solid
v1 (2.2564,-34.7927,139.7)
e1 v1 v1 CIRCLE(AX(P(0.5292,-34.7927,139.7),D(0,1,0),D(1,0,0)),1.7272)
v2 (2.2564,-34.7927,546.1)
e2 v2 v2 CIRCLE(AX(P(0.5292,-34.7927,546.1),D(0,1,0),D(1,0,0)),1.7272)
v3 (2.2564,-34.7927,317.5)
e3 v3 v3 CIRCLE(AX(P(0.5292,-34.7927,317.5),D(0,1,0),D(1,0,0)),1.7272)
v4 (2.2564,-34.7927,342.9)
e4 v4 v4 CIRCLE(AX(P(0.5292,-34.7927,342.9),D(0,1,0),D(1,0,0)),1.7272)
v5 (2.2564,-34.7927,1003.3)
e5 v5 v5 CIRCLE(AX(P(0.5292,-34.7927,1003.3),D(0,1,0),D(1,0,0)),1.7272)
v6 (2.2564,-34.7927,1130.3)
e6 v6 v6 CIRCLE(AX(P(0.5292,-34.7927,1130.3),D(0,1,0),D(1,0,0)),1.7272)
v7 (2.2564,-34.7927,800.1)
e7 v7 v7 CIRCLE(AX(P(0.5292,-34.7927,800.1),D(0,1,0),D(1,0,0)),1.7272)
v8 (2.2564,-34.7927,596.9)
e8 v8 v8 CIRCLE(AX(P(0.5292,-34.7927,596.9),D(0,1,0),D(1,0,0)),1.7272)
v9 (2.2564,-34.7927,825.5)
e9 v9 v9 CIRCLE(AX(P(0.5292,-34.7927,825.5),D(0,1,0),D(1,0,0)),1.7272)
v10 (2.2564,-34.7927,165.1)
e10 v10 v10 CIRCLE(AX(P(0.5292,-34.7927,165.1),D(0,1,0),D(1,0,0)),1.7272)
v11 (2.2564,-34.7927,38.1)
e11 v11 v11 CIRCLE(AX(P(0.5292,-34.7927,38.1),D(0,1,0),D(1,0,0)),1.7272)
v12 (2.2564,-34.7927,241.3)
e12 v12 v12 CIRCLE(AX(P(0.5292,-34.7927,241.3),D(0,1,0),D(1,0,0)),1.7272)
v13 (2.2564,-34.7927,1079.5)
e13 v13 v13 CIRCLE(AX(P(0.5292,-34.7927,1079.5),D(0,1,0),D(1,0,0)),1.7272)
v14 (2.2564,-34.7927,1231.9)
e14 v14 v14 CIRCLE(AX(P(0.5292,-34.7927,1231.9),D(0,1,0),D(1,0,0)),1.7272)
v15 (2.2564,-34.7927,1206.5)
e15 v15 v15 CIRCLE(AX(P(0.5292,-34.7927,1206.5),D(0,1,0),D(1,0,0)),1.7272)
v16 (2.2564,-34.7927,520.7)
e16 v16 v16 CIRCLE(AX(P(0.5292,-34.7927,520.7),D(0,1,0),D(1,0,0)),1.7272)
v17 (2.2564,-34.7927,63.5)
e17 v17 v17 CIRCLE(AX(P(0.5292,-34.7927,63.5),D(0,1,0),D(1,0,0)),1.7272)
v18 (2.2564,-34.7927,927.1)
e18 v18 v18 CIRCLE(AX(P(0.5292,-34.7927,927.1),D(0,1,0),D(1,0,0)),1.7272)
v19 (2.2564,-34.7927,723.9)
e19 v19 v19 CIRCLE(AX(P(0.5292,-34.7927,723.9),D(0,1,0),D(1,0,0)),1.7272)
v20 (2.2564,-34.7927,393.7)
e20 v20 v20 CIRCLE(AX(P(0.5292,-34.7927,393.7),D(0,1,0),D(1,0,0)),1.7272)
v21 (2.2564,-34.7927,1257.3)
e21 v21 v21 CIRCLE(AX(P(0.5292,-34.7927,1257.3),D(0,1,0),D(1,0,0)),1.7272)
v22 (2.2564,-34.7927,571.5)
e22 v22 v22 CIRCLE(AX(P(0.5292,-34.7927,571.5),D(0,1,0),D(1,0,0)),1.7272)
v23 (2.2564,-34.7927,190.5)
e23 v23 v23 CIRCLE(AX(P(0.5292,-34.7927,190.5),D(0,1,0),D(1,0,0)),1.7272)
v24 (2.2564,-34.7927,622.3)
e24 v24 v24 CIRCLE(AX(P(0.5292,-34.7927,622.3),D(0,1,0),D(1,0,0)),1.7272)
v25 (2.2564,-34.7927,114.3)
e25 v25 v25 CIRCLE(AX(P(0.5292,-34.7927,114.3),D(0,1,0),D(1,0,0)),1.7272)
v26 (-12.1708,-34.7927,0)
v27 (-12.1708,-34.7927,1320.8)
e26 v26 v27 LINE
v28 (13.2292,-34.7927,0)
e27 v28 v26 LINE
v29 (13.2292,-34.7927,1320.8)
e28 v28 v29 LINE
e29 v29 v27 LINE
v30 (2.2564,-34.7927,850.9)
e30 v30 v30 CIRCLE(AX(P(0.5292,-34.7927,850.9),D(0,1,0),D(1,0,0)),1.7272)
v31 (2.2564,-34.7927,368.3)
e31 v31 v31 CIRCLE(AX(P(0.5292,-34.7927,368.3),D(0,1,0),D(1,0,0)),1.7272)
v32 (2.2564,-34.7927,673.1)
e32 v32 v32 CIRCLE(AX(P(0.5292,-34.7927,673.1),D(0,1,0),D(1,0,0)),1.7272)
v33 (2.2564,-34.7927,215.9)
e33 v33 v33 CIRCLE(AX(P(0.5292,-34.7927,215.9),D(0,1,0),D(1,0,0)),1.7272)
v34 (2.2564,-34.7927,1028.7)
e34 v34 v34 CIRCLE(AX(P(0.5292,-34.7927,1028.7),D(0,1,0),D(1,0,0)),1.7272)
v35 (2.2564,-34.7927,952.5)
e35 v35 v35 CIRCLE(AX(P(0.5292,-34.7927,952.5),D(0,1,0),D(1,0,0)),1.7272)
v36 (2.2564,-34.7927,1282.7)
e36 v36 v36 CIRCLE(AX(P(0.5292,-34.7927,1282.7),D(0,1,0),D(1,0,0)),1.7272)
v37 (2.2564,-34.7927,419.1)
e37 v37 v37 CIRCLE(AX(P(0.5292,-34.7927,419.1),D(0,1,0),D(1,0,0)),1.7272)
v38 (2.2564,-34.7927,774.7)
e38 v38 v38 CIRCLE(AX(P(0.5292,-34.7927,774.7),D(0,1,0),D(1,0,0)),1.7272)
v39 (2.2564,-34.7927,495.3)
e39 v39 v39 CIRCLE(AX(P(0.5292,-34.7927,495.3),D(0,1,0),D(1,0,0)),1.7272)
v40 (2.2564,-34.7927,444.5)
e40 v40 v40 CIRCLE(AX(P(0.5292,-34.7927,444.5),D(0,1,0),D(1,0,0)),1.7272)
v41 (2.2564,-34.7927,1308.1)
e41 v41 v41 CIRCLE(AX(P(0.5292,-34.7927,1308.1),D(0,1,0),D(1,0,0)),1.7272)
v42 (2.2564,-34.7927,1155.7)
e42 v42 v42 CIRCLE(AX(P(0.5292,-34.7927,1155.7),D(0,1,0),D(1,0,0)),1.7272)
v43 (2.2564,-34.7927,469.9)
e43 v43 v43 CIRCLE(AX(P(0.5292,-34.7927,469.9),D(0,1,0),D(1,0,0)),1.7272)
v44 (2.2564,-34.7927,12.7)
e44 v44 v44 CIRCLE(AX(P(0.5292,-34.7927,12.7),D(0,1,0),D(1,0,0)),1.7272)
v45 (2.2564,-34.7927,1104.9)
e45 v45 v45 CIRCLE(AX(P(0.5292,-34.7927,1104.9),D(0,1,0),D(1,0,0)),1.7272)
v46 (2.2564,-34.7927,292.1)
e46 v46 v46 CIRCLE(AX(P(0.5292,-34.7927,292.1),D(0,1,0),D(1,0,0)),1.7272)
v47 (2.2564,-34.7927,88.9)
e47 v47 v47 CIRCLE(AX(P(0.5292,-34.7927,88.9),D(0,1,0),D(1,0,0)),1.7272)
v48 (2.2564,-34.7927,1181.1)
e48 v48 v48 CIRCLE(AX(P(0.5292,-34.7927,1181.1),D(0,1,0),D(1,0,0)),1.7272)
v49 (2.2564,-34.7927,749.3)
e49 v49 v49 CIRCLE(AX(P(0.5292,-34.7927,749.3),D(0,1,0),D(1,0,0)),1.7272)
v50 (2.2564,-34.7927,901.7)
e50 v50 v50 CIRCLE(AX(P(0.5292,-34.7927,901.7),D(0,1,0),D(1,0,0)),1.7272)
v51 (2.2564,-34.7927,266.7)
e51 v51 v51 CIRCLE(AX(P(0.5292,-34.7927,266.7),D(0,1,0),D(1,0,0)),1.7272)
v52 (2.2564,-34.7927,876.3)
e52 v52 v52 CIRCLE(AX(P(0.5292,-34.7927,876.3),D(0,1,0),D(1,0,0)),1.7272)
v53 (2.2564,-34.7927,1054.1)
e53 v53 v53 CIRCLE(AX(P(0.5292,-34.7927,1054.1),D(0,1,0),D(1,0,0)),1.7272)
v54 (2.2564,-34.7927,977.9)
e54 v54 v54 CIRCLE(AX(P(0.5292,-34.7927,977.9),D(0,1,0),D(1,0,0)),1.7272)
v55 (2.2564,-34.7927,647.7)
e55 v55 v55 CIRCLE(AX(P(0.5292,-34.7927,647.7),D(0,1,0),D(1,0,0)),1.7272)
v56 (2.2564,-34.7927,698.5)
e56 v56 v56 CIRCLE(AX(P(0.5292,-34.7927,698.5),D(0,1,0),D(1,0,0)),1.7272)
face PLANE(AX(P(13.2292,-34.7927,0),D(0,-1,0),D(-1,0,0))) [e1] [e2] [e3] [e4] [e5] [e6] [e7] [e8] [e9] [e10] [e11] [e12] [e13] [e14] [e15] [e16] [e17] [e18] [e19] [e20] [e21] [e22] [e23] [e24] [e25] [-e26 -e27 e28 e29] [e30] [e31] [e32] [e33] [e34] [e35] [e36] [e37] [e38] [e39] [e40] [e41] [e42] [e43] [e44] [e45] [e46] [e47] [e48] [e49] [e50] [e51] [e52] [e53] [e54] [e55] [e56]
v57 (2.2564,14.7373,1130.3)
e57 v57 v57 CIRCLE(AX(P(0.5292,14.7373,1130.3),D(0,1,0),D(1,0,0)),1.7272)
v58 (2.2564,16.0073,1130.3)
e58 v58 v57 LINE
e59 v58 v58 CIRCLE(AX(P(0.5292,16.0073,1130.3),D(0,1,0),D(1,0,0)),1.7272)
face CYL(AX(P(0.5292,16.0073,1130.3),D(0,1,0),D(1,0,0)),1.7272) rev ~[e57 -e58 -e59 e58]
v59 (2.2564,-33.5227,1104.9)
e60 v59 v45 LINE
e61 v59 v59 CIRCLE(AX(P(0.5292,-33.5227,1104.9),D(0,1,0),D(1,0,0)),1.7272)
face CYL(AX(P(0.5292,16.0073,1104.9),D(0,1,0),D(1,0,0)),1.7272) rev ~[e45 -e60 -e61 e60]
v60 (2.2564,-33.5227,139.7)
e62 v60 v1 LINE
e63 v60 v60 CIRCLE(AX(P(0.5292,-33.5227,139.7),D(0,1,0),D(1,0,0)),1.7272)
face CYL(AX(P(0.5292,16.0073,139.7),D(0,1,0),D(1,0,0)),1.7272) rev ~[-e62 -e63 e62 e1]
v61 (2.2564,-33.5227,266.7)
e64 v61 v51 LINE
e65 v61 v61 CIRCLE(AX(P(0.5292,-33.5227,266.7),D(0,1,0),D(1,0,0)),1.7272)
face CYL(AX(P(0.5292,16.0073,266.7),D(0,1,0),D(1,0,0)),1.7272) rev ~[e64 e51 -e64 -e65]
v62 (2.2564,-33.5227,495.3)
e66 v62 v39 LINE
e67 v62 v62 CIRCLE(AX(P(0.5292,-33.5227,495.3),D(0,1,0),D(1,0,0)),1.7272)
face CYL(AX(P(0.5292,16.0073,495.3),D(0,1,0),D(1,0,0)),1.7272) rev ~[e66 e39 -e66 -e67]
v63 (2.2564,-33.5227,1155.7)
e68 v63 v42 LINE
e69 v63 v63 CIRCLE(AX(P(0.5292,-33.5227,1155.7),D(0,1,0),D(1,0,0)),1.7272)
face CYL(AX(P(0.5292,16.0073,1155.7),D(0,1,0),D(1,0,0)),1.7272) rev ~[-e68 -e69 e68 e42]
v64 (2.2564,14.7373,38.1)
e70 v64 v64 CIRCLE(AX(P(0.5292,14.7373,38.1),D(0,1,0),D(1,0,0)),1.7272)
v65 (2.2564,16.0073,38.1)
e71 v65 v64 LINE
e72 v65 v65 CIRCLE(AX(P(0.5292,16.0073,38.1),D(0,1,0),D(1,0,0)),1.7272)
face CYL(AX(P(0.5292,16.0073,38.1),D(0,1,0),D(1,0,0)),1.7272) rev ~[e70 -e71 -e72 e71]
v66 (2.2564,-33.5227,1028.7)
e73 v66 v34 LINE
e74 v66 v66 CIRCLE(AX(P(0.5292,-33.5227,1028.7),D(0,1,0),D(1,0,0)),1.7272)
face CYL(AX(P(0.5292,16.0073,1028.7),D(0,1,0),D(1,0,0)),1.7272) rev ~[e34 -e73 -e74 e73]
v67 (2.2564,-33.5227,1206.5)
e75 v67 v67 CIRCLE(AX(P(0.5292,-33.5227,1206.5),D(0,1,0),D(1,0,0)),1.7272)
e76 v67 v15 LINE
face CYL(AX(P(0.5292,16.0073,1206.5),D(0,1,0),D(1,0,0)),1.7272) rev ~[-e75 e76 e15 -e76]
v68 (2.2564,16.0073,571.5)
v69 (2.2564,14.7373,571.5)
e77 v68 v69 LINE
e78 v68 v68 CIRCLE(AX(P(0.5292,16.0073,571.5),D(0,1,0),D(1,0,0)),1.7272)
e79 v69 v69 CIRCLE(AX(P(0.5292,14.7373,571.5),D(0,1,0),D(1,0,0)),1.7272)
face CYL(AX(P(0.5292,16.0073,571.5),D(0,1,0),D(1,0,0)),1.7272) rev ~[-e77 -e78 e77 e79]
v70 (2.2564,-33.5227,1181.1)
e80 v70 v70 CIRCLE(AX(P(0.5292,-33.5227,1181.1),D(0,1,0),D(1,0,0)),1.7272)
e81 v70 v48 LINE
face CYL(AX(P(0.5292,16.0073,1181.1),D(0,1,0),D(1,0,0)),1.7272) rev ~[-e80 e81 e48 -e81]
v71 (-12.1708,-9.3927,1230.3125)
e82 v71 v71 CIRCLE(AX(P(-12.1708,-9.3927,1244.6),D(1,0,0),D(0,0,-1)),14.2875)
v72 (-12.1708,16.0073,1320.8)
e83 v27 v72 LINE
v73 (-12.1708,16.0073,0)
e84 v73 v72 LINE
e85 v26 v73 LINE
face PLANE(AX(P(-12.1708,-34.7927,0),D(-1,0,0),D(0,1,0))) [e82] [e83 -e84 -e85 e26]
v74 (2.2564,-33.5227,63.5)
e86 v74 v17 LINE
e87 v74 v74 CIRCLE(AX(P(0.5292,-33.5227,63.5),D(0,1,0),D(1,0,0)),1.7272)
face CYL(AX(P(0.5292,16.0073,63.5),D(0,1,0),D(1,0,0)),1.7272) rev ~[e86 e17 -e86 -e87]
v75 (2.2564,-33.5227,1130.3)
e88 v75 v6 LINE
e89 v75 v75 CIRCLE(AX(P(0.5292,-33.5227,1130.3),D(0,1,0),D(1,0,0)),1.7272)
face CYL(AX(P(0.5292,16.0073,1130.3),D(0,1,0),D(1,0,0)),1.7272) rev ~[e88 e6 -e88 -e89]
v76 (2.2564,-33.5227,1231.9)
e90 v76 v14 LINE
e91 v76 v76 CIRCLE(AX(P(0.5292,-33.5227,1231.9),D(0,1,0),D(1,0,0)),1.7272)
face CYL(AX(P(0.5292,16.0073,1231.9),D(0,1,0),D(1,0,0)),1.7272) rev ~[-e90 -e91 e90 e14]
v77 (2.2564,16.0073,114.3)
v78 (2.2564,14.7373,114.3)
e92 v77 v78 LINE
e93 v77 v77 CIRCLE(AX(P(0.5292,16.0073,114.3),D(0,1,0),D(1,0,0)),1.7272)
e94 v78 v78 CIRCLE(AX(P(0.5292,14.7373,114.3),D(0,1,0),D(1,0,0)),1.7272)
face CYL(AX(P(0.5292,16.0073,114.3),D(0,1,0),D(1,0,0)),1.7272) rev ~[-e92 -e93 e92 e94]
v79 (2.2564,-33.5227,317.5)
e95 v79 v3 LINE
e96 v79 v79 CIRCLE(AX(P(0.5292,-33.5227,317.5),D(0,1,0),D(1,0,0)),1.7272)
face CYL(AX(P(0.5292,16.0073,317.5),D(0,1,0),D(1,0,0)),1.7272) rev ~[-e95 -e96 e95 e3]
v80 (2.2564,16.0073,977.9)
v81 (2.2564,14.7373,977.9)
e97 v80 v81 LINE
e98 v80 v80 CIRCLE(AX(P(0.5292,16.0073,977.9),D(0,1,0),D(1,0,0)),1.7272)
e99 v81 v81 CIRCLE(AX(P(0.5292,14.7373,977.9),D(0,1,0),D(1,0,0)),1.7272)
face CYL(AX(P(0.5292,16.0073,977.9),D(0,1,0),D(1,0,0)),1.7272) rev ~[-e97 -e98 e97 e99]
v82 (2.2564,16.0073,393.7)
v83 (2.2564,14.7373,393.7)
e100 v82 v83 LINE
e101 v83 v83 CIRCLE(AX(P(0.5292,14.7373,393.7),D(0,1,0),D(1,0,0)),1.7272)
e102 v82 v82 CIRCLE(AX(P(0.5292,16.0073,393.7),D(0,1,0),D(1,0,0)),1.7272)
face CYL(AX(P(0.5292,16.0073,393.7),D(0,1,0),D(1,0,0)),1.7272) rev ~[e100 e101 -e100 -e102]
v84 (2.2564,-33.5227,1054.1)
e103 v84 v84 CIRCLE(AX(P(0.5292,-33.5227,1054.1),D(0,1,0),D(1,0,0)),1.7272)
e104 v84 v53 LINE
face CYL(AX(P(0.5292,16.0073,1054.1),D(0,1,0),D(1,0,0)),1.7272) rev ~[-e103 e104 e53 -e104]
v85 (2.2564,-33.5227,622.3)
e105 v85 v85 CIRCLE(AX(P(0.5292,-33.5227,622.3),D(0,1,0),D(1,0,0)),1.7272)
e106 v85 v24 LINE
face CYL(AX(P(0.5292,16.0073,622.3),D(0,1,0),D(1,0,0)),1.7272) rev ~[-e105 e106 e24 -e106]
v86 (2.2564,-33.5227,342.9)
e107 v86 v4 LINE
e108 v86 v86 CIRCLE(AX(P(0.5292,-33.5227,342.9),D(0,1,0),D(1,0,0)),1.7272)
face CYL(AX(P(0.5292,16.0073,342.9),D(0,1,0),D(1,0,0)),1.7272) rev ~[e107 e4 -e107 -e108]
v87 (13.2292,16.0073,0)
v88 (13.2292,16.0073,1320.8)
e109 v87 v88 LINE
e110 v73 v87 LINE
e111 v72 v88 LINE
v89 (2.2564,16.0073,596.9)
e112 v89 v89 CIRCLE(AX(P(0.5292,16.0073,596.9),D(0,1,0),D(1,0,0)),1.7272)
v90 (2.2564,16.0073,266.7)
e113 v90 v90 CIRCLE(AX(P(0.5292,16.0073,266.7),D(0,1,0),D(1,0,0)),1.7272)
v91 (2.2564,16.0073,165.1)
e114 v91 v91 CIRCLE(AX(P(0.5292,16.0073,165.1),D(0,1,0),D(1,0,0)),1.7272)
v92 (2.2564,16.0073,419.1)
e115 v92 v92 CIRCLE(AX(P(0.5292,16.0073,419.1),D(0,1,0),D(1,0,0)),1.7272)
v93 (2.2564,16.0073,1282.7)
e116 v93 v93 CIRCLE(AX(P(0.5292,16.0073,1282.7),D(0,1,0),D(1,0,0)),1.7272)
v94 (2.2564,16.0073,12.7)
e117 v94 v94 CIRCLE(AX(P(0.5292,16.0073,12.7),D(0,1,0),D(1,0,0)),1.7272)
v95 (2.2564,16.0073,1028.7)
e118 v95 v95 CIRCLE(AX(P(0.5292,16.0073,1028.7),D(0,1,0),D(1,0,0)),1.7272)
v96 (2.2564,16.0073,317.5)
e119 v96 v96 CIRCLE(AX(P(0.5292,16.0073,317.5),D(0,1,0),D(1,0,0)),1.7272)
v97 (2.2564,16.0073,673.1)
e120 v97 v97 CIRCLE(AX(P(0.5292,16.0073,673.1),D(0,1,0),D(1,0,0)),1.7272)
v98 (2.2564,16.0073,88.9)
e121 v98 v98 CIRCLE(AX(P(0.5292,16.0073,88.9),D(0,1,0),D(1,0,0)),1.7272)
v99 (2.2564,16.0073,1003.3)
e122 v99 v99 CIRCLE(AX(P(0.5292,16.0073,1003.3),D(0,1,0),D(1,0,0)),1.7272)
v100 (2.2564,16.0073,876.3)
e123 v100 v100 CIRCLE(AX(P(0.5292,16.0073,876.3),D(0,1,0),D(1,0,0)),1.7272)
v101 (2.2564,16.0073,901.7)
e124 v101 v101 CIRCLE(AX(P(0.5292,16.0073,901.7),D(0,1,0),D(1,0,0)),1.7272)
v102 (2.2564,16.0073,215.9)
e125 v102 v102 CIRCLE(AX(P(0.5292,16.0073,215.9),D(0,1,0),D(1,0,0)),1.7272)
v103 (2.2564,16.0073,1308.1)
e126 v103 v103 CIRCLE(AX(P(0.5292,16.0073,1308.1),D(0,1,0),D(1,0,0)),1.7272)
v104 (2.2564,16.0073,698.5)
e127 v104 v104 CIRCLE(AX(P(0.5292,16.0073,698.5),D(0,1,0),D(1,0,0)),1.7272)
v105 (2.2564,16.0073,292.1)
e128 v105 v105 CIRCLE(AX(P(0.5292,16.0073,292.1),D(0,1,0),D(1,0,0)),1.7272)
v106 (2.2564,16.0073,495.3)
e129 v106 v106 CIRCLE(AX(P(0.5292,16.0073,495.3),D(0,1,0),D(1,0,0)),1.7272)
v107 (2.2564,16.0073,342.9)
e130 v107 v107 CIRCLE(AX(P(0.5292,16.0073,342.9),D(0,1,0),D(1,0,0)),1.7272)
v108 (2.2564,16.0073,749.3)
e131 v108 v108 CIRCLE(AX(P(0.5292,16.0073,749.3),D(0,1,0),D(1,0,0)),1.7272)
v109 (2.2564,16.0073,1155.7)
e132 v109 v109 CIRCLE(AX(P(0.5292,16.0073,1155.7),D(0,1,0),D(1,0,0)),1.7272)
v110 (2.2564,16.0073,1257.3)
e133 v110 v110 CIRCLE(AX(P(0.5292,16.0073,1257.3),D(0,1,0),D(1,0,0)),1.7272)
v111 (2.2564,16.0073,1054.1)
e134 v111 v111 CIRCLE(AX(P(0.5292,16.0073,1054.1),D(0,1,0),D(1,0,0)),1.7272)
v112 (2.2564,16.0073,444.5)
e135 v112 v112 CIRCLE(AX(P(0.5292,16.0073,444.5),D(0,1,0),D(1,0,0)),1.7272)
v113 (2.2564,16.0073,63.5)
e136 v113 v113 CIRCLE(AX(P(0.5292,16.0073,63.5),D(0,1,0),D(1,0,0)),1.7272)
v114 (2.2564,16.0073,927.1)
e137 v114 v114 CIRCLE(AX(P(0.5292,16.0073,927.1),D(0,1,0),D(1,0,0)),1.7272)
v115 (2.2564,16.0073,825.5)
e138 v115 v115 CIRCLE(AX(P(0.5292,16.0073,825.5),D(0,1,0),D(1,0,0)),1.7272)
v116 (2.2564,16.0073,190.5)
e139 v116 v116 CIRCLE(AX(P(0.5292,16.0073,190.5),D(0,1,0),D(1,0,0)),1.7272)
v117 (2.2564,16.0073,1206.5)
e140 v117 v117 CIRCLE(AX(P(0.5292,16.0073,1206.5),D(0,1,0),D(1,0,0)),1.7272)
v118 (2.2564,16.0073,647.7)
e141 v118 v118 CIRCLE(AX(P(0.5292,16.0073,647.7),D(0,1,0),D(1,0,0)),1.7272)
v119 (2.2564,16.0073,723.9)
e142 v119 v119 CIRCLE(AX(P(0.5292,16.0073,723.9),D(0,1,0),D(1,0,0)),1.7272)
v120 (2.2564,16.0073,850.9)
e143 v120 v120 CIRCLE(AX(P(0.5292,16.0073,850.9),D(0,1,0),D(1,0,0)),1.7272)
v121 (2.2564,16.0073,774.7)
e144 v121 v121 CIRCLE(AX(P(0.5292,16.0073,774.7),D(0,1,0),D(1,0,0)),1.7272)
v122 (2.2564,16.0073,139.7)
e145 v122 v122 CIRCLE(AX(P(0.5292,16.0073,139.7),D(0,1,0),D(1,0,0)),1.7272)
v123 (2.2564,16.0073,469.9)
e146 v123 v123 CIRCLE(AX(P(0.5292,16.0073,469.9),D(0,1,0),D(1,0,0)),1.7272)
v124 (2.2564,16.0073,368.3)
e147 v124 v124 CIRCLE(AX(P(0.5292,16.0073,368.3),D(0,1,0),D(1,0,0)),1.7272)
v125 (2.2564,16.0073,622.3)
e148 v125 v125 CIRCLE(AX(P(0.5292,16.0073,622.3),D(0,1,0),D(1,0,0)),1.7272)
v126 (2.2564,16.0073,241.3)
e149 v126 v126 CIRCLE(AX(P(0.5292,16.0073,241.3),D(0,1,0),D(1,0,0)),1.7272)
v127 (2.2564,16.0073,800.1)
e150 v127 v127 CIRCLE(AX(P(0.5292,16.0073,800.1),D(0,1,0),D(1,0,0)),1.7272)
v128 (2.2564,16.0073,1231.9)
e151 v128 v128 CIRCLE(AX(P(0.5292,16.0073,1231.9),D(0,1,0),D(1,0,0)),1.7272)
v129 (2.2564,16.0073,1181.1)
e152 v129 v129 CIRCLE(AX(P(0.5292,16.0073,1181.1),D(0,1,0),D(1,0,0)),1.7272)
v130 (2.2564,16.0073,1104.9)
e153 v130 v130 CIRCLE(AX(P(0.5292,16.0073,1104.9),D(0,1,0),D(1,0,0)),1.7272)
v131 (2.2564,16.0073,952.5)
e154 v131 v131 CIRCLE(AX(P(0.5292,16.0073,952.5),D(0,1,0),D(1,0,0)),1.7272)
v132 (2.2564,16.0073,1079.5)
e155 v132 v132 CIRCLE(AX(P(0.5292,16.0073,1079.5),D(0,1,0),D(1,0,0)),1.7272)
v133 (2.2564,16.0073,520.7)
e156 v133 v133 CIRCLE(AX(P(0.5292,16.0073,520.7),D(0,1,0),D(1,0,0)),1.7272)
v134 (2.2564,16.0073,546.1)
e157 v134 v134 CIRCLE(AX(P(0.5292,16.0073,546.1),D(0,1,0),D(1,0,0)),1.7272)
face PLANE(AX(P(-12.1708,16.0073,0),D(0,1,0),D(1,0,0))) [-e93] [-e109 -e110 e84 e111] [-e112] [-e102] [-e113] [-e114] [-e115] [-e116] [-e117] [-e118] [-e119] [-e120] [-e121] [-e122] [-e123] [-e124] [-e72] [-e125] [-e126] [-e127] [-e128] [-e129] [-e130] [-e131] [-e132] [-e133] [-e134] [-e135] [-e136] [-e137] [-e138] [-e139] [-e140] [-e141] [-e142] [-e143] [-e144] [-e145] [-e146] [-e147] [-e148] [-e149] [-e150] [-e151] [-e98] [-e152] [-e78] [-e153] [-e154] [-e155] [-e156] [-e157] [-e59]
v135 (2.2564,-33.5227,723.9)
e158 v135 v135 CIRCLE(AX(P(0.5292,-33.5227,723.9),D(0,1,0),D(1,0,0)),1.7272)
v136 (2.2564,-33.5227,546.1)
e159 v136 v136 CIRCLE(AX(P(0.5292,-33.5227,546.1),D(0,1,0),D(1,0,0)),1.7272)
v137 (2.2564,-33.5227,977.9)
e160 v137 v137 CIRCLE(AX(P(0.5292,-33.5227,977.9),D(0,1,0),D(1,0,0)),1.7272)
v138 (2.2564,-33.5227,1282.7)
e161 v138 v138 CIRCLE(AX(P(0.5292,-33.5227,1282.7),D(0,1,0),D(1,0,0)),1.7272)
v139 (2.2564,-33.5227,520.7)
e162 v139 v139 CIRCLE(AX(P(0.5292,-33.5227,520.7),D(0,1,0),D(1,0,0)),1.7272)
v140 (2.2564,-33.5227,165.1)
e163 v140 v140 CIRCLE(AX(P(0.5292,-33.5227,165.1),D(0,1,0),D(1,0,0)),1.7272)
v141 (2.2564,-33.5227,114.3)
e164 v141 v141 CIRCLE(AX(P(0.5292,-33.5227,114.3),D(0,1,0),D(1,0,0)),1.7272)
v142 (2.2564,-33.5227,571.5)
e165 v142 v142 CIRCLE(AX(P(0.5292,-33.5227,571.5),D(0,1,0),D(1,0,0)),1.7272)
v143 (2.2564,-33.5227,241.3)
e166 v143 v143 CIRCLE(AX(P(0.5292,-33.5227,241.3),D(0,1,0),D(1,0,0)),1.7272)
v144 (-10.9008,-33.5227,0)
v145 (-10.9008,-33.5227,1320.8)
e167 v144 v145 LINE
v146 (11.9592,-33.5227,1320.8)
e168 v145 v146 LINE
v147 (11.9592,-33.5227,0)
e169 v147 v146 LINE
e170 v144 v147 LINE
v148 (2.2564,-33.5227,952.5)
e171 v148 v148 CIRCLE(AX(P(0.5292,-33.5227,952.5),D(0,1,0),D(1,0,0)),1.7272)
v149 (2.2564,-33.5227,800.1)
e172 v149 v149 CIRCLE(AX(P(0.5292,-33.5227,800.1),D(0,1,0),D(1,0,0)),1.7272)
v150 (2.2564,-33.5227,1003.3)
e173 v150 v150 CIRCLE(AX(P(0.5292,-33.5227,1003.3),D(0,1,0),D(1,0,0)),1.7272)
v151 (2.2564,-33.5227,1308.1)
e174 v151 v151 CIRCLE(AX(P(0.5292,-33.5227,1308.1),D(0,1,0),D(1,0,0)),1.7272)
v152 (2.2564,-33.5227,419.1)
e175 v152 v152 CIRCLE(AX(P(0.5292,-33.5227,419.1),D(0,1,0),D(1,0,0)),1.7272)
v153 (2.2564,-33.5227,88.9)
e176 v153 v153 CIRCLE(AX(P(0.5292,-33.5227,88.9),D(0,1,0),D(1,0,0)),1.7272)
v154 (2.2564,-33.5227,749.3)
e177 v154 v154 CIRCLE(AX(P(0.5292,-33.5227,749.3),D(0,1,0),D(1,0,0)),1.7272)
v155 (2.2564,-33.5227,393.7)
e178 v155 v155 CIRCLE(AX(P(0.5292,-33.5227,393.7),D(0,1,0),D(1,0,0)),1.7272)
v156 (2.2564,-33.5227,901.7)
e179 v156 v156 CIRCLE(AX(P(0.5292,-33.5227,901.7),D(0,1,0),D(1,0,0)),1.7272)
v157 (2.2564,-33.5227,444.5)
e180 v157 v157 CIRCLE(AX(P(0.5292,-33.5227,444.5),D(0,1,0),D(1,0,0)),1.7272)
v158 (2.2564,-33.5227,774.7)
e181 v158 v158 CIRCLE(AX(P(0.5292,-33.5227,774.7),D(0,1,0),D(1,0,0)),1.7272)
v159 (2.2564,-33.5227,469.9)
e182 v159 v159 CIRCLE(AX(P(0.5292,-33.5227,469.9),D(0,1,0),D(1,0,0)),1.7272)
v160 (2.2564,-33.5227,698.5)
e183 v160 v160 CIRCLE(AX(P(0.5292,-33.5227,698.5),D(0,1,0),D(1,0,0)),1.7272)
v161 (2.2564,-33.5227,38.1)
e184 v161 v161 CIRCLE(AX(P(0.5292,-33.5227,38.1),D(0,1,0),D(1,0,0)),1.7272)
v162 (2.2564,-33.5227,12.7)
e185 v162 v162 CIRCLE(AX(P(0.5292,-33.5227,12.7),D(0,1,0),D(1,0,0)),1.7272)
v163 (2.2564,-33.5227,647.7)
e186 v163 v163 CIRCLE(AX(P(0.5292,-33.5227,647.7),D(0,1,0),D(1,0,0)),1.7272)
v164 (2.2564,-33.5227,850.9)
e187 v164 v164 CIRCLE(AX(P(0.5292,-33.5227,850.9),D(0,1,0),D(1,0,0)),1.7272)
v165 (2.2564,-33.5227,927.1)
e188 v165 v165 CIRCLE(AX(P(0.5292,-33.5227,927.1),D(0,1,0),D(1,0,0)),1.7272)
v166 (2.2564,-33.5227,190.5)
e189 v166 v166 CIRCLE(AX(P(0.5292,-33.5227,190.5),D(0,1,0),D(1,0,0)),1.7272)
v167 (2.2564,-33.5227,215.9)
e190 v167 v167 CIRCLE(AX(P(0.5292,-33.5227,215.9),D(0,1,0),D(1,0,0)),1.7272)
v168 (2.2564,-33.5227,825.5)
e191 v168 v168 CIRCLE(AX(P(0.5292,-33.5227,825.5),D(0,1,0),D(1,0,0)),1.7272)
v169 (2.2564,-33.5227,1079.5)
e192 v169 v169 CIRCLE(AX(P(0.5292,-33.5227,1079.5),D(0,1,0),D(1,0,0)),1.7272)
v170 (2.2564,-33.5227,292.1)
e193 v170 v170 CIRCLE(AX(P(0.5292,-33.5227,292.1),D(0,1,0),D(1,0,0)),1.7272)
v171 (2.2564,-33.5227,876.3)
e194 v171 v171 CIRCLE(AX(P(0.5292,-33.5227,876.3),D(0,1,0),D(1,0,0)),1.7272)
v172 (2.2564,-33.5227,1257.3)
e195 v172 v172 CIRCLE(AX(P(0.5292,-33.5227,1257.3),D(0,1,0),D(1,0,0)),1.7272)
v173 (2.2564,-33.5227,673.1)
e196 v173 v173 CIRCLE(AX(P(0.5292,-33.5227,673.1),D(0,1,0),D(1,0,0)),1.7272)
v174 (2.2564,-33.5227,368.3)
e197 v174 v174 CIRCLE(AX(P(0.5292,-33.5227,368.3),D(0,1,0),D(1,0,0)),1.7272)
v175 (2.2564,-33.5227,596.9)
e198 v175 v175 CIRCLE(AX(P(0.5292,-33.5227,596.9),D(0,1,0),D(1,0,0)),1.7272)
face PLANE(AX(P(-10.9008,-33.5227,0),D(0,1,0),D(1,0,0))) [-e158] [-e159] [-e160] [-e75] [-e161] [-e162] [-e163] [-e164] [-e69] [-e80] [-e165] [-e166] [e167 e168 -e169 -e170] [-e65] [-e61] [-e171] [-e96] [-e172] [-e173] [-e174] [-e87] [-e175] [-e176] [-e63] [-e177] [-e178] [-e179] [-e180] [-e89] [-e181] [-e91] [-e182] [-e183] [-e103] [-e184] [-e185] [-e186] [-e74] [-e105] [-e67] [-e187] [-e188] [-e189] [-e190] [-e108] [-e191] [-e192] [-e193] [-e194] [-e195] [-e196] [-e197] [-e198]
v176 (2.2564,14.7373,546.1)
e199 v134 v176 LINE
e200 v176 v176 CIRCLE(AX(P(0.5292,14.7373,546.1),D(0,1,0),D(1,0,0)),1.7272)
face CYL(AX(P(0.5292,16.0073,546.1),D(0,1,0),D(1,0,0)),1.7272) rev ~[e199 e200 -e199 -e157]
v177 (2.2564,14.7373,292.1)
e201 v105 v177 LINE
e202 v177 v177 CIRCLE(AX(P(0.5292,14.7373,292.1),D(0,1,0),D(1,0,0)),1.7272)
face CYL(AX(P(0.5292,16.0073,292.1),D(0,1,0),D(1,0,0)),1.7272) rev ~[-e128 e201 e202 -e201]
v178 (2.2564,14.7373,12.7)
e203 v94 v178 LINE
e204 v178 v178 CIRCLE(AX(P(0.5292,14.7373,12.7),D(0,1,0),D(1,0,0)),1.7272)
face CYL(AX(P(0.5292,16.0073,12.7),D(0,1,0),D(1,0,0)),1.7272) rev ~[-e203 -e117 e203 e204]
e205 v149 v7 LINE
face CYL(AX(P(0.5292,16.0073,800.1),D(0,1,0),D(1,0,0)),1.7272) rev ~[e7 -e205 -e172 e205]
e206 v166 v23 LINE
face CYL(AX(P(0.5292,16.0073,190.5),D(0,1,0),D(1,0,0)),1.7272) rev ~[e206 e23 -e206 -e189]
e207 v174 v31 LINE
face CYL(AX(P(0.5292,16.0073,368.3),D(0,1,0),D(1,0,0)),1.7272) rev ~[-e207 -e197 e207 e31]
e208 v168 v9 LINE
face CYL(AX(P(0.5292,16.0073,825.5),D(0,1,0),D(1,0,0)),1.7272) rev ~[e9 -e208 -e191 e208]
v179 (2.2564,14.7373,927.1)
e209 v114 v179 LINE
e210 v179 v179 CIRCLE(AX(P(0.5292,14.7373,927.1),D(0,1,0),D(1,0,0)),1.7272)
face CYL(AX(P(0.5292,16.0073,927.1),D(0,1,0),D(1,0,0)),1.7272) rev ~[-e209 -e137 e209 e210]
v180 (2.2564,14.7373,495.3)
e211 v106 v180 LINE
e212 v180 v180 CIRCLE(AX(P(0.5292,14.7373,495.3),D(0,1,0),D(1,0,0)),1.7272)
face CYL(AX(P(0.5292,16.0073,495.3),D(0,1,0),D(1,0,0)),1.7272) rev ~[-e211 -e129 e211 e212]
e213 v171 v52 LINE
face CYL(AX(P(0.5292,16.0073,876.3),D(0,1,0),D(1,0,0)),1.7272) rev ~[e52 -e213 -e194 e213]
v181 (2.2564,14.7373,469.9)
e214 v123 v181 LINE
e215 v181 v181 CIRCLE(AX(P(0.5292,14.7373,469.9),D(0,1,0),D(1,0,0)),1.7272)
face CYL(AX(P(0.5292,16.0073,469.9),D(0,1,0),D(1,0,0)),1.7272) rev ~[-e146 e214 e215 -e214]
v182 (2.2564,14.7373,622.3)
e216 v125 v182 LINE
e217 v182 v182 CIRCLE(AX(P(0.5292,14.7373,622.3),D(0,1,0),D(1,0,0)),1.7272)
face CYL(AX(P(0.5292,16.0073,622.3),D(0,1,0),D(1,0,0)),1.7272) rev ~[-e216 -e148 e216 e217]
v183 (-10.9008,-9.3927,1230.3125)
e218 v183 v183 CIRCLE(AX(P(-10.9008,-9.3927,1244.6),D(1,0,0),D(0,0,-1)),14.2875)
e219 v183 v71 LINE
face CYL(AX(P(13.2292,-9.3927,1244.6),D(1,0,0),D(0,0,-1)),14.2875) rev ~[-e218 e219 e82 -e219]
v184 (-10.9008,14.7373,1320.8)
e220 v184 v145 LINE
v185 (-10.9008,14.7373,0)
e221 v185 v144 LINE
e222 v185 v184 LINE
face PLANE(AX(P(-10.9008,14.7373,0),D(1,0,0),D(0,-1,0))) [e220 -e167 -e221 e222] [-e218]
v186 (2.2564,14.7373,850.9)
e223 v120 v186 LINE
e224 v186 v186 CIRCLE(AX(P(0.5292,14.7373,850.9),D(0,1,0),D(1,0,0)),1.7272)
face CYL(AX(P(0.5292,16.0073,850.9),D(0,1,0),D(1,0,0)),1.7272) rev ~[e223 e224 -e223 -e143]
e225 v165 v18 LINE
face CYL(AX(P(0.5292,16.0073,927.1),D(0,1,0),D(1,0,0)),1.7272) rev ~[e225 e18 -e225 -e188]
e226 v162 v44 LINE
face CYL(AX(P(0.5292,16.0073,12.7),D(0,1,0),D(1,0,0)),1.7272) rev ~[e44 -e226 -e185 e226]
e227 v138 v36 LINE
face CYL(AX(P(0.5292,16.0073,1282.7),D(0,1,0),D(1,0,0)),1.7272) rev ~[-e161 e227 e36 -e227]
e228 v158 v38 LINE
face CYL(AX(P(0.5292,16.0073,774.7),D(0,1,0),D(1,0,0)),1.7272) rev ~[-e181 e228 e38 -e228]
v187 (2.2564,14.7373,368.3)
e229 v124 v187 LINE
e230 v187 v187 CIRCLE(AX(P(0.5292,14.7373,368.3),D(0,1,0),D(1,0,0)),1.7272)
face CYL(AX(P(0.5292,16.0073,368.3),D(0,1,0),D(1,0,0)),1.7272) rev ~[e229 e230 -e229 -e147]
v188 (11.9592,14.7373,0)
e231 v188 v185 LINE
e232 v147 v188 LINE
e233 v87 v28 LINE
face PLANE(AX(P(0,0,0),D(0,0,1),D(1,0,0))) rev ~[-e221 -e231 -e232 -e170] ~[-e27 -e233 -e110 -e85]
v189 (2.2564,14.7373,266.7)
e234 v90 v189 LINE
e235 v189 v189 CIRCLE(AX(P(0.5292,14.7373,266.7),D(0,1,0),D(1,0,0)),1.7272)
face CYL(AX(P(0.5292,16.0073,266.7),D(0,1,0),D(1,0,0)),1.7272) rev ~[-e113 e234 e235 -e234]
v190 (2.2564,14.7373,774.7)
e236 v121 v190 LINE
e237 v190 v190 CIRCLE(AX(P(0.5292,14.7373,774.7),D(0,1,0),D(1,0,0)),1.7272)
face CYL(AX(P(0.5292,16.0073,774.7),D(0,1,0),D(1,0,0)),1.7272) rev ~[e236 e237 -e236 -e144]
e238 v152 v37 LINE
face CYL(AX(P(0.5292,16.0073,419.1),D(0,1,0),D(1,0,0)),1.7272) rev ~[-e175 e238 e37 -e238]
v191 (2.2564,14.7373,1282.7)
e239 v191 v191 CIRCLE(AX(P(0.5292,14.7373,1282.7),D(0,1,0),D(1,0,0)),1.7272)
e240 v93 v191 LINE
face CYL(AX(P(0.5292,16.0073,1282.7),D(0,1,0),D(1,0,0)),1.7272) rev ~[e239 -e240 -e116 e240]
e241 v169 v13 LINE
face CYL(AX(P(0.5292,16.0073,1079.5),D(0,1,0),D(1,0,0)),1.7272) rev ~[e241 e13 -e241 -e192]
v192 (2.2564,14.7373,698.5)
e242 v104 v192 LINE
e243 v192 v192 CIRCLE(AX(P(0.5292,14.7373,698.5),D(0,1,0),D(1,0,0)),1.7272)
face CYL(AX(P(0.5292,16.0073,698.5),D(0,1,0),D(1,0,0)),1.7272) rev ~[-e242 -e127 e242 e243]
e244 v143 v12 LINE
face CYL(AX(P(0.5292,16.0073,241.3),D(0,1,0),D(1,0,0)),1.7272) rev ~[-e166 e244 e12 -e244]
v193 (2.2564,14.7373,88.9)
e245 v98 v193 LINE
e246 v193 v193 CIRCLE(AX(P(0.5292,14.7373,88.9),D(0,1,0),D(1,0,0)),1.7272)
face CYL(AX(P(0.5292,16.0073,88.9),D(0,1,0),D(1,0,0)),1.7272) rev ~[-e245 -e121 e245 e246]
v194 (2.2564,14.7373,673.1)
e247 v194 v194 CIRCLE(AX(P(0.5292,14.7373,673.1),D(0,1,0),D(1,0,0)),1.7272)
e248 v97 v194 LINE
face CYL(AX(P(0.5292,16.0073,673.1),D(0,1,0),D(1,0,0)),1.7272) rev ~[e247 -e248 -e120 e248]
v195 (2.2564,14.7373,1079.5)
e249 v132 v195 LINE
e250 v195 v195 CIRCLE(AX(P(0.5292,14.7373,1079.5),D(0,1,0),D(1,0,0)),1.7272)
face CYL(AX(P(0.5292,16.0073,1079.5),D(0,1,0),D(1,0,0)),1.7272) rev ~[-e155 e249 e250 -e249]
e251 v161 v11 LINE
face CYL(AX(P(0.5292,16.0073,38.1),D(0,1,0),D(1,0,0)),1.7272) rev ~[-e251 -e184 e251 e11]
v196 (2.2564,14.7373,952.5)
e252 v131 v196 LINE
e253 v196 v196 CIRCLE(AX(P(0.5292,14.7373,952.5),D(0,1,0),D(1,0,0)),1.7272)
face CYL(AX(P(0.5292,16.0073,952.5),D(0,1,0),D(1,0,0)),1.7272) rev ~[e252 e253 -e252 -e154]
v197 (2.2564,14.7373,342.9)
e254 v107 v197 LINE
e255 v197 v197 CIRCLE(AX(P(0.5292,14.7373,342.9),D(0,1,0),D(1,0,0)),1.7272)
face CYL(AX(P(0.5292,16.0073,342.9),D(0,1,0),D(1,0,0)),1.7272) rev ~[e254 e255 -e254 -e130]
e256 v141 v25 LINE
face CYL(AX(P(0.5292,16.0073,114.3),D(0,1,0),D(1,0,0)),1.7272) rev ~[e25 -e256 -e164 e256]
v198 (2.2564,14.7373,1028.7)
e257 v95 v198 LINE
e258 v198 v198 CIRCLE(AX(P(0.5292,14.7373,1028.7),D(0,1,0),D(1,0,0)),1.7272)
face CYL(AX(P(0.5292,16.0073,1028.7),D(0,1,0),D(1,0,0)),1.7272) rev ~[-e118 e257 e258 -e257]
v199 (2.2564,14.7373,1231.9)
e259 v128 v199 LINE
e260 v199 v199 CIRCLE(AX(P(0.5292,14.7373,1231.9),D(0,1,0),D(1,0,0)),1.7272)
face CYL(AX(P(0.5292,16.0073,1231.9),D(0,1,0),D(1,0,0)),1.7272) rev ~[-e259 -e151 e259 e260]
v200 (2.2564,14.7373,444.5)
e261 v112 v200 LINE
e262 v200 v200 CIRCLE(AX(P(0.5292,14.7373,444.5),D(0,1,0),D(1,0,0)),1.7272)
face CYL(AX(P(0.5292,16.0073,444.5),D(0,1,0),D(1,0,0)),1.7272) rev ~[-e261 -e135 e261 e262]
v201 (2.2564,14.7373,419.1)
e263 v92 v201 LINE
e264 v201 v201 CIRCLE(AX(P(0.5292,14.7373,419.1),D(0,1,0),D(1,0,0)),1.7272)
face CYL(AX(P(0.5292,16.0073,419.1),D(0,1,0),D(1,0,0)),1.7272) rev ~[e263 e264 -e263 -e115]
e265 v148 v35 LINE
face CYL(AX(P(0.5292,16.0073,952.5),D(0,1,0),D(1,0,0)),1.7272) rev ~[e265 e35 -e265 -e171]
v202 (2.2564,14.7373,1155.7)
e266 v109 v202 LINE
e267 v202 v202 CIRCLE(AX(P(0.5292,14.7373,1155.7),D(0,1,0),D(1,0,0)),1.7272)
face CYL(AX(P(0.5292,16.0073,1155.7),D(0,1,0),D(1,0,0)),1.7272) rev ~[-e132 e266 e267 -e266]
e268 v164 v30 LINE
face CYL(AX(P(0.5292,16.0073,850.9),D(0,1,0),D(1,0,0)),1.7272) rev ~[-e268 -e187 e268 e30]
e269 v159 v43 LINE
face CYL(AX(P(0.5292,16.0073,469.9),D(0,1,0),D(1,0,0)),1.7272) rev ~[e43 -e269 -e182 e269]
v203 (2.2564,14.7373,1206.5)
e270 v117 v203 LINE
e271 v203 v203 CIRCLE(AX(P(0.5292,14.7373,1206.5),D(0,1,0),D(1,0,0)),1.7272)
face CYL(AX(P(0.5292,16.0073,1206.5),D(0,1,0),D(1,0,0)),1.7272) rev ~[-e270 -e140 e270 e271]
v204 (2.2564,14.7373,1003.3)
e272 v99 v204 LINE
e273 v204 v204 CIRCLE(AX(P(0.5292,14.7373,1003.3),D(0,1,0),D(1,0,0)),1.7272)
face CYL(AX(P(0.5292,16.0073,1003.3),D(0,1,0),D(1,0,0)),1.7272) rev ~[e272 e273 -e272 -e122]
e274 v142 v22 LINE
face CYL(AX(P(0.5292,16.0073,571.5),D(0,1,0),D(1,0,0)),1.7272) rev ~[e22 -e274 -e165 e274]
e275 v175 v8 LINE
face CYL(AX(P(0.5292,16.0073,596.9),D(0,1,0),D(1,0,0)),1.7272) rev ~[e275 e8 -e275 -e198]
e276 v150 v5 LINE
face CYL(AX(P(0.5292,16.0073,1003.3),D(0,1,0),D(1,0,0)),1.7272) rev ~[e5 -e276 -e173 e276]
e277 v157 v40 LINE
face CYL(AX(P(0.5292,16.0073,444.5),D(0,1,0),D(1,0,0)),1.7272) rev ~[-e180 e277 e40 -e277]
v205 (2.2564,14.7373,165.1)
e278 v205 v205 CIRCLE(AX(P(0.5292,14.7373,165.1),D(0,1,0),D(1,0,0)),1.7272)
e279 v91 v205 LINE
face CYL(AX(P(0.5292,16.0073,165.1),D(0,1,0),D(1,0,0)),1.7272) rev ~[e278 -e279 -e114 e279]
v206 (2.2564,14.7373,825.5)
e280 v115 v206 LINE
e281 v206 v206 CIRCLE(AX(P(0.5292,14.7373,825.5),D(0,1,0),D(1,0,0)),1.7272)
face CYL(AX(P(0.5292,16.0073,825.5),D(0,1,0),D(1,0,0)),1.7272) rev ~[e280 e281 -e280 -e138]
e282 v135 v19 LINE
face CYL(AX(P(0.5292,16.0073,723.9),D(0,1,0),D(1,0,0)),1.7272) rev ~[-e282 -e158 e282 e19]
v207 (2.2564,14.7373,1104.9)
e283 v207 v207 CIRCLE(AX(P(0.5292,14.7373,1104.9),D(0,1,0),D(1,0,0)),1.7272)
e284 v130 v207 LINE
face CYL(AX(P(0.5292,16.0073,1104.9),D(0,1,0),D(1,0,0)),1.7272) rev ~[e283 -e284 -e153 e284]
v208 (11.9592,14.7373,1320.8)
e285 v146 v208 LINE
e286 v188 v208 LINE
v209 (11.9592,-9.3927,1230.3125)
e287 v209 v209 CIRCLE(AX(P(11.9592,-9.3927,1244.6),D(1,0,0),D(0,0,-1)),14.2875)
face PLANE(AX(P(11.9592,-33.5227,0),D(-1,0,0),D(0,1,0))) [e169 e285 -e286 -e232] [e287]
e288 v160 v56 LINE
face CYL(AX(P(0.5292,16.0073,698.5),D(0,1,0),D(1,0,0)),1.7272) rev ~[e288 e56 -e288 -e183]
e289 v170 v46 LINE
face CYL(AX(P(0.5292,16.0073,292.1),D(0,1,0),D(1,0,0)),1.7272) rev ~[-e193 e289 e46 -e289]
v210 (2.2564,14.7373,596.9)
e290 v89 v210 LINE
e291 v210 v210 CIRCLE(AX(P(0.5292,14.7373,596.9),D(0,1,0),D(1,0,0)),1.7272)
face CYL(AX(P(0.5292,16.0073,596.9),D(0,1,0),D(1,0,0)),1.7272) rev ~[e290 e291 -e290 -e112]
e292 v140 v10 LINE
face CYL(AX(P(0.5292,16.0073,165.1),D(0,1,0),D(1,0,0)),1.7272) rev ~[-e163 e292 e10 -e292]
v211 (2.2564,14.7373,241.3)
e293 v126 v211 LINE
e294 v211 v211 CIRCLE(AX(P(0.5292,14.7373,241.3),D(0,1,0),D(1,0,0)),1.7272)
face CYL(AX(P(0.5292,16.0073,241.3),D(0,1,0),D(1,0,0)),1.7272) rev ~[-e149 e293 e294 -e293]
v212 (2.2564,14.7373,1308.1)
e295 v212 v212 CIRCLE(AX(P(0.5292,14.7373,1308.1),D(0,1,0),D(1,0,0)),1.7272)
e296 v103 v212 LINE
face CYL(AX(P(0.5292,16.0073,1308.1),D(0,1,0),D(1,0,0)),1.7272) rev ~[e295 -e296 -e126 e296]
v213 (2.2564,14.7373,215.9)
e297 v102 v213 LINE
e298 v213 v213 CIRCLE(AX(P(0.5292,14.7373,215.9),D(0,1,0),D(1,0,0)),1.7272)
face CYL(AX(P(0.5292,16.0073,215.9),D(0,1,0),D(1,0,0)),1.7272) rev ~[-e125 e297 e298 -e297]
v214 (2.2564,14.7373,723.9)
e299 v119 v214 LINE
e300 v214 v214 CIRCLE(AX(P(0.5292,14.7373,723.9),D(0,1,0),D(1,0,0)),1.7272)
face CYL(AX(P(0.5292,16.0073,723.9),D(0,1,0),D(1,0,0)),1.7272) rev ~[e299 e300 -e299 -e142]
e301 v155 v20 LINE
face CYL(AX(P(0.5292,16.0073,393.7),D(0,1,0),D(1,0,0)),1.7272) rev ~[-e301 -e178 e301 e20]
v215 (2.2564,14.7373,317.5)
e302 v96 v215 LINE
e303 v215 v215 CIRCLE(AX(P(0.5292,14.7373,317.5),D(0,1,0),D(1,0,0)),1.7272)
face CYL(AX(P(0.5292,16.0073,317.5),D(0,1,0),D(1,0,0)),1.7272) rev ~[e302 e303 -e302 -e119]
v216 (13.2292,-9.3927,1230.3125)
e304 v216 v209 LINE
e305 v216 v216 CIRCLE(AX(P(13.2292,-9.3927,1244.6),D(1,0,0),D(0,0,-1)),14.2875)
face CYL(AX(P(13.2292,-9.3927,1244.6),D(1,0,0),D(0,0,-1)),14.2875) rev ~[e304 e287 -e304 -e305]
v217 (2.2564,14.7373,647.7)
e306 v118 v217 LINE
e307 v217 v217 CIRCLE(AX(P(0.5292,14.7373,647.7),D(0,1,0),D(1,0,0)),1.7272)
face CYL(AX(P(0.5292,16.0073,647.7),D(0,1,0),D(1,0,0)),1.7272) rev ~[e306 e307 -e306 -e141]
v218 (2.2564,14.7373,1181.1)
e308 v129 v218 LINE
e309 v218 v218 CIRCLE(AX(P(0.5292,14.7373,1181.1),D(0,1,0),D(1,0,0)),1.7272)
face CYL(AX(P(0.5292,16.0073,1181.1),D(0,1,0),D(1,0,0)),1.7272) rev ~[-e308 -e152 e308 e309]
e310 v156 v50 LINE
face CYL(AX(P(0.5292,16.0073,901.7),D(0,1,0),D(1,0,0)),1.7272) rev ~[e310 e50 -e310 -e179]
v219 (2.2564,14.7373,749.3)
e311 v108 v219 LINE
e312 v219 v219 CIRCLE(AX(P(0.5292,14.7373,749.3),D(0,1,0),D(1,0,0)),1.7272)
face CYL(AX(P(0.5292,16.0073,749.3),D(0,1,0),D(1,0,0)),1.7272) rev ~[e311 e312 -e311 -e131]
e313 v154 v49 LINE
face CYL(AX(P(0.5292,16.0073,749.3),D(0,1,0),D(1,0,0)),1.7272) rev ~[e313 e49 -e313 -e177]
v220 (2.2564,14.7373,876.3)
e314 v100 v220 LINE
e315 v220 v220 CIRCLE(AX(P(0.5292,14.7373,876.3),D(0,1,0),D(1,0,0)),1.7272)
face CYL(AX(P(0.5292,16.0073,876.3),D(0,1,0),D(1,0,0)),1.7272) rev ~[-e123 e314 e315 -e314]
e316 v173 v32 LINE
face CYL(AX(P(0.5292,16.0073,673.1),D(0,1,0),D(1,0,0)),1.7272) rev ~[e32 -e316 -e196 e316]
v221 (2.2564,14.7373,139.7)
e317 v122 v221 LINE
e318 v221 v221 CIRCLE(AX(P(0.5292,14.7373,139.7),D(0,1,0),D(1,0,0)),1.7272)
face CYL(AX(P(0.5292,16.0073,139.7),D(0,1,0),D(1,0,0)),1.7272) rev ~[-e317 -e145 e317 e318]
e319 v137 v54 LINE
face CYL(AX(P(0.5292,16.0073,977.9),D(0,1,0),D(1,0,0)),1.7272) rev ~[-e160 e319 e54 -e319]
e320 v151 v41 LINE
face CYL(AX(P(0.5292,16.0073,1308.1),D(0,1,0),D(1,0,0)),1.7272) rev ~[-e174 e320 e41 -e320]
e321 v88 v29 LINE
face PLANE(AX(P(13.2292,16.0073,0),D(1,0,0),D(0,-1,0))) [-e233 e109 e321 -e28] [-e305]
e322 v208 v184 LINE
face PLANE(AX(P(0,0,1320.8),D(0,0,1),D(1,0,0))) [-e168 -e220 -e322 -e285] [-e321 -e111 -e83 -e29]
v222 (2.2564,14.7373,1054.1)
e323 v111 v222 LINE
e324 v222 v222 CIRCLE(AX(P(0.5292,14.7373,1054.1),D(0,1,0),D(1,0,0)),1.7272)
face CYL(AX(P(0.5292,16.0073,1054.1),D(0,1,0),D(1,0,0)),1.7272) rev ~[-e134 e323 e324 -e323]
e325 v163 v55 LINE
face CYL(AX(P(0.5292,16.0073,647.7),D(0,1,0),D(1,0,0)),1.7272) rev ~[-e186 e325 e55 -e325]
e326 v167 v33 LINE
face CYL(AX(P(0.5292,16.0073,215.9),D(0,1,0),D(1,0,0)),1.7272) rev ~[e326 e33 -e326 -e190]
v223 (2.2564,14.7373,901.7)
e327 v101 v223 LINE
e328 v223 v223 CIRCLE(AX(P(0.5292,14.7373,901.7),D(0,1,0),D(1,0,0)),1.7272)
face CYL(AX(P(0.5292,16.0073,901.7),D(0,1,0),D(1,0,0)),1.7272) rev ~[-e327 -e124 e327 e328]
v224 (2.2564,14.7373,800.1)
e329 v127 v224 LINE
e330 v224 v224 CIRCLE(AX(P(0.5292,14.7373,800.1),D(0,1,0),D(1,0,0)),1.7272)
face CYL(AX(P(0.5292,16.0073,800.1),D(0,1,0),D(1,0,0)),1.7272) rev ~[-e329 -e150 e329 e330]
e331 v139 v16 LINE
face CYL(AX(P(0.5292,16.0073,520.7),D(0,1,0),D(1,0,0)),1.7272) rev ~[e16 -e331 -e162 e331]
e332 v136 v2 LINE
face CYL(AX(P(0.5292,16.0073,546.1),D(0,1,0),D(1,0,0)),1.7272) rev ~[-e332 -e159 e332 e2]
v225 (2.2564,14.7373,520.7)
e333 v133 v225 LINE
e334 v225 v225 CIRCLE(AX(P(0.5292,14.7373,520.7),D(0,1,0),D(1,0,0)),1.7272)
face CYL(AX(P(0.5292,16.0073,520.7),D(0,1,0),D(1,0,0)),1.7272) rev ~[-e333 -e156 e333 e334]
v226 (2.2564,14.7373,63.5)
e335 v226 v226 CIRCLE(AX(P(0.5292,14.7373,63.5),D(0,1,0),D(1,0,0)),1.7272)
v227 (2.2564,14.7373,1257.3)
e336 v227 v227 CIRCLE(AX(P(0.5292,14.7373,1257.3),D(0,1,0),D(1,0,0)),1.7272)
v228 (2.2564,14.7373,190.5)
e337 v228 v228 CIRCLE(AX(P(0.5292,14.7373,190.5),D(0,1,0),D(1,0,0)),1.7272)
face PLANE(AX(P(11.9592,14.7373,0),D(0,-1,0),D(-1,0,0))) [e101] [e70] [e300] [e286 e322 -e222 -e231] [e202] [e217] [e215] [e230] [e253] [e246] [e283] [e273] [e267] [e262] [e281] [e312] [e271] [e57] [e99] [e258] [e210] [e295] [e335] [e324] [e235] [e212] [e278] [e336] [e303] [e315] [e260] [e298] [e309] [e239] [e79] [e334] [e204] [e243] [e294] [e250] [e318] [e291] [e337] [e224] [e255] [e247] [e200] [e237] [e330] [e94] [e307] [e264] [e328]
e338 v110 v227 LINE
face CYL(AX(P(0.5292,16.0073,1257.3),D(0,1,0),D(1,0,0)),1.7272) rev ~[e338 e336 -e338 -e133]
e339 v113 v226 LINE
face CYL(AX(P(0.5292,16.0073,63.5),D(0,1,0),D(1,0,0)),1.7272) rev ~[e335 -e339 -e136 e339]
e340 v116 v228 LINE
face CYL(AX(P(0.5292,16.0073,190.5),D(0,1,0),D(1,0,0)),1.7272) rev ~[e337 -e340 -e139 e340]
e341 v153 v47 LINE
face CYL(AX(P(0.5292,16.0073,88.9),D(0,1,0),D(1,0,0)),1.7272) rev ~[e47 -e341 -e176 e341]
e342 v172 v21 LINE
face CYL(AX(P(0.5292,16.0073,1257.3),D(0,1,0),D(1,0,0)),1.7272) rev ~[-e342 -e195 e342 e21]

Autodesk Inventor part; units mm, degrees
ref_plane "YZ Plane" through (0, 0, 0) normal (1, 0, 0) x (0, 1, 0)
ref_plane "XZ Plane" through (0, 0, 0) normal (0, 1, 0) x (-1, 0, 0)
ref_plane "XY Plane" through (0, 0, 0) normal (0, 0, 1) x (1, 0, 0)
sketch "Sketch1" plane through (0, 0, 0) normal (0, 0, 1) x (1, 0, 0)
  line L0 (-12.1708, 16.0073) -> (13.2292, 16.0073)
  line L1 (13.2292, 16.0073) -> (13.2292, -34.7927)
  line L2 (13.2292, -34.7927) -> (-12.1708, -34.7927)
  line L3 (-12.1708, -34.7927) -> (-12.1708, 16.0073)
  line L4 (11.9592, 14.7373) -> (-10.9008, 14.7373)
  line L5 (-10.9008, 14.7373) -> (-10.9008, -33.5227)
  line L6 (-10.9008, -33.5227) -> (11.9592, -33.5227)
  line L7 (11.9592, -33.5227) -> (11.9592, 14.7373)
  point P0 (0, 0)
  dimension "d0" = 25.4
  dimension "d1" = 50.8
  dimension "d2" = 1.27
extrude "Extrusion1" add sketch "Sketch1" along normal blind 1320.8
sketch "Sketch2" plane through (-12.1708, 16.0073, 0) normal (0, 1, 0) x (1, 0, 0)
  circle A0 centre (12.7, -12.7) radius 1.7272
  line L0 (25.4, 0) -> (0, 0) projected
  line L1 (0, 0) -> (0, -1320.8) projected
  point P0 (12.1708, 0)
  dimension "d5" = 3.4544
  dimension "d6" = 12.7
  dimension "d7" = 12.7
extrude "Extrusion2" cut sketch "Sketch2" against normal through all
pattern_linear "Rectangular Pattern1" count 132 spacing 25.4 along (0, 0, 1) of "Extrusion2"
sketch "Sketch4" plane through (13.2292, -34.7927, 0) normal (1, 0, 0) x (0, 0, -1)
  circle A0 centre (-1244.6, 25.4) radius 14.2875
  line L0 (0, 0) -> (0, 50.8) projected
  line L1 (0, 0) -> (-1320.8, 0) projected
  line L2 (-1320.8, 0) -> (-1320.8, 50.8) projected
  point P0 (0, 34.7927)
  point P1 (-1320.8, 25.4)
  dimension "d22" = 25.4
  dimension "d23" = 28.575
  dimension "d26" = 76.2
extrude "Extrusion4" cut sketch "Sketch4" against normal blind 25.4
equation "\"d3\" = d13"
equation "\"d10\" = d14"
equation "\"d13\" = 1320.8"
equation "\"d14\" = d13"
properties part number "VersaFrame(tower arms) V1.2"
